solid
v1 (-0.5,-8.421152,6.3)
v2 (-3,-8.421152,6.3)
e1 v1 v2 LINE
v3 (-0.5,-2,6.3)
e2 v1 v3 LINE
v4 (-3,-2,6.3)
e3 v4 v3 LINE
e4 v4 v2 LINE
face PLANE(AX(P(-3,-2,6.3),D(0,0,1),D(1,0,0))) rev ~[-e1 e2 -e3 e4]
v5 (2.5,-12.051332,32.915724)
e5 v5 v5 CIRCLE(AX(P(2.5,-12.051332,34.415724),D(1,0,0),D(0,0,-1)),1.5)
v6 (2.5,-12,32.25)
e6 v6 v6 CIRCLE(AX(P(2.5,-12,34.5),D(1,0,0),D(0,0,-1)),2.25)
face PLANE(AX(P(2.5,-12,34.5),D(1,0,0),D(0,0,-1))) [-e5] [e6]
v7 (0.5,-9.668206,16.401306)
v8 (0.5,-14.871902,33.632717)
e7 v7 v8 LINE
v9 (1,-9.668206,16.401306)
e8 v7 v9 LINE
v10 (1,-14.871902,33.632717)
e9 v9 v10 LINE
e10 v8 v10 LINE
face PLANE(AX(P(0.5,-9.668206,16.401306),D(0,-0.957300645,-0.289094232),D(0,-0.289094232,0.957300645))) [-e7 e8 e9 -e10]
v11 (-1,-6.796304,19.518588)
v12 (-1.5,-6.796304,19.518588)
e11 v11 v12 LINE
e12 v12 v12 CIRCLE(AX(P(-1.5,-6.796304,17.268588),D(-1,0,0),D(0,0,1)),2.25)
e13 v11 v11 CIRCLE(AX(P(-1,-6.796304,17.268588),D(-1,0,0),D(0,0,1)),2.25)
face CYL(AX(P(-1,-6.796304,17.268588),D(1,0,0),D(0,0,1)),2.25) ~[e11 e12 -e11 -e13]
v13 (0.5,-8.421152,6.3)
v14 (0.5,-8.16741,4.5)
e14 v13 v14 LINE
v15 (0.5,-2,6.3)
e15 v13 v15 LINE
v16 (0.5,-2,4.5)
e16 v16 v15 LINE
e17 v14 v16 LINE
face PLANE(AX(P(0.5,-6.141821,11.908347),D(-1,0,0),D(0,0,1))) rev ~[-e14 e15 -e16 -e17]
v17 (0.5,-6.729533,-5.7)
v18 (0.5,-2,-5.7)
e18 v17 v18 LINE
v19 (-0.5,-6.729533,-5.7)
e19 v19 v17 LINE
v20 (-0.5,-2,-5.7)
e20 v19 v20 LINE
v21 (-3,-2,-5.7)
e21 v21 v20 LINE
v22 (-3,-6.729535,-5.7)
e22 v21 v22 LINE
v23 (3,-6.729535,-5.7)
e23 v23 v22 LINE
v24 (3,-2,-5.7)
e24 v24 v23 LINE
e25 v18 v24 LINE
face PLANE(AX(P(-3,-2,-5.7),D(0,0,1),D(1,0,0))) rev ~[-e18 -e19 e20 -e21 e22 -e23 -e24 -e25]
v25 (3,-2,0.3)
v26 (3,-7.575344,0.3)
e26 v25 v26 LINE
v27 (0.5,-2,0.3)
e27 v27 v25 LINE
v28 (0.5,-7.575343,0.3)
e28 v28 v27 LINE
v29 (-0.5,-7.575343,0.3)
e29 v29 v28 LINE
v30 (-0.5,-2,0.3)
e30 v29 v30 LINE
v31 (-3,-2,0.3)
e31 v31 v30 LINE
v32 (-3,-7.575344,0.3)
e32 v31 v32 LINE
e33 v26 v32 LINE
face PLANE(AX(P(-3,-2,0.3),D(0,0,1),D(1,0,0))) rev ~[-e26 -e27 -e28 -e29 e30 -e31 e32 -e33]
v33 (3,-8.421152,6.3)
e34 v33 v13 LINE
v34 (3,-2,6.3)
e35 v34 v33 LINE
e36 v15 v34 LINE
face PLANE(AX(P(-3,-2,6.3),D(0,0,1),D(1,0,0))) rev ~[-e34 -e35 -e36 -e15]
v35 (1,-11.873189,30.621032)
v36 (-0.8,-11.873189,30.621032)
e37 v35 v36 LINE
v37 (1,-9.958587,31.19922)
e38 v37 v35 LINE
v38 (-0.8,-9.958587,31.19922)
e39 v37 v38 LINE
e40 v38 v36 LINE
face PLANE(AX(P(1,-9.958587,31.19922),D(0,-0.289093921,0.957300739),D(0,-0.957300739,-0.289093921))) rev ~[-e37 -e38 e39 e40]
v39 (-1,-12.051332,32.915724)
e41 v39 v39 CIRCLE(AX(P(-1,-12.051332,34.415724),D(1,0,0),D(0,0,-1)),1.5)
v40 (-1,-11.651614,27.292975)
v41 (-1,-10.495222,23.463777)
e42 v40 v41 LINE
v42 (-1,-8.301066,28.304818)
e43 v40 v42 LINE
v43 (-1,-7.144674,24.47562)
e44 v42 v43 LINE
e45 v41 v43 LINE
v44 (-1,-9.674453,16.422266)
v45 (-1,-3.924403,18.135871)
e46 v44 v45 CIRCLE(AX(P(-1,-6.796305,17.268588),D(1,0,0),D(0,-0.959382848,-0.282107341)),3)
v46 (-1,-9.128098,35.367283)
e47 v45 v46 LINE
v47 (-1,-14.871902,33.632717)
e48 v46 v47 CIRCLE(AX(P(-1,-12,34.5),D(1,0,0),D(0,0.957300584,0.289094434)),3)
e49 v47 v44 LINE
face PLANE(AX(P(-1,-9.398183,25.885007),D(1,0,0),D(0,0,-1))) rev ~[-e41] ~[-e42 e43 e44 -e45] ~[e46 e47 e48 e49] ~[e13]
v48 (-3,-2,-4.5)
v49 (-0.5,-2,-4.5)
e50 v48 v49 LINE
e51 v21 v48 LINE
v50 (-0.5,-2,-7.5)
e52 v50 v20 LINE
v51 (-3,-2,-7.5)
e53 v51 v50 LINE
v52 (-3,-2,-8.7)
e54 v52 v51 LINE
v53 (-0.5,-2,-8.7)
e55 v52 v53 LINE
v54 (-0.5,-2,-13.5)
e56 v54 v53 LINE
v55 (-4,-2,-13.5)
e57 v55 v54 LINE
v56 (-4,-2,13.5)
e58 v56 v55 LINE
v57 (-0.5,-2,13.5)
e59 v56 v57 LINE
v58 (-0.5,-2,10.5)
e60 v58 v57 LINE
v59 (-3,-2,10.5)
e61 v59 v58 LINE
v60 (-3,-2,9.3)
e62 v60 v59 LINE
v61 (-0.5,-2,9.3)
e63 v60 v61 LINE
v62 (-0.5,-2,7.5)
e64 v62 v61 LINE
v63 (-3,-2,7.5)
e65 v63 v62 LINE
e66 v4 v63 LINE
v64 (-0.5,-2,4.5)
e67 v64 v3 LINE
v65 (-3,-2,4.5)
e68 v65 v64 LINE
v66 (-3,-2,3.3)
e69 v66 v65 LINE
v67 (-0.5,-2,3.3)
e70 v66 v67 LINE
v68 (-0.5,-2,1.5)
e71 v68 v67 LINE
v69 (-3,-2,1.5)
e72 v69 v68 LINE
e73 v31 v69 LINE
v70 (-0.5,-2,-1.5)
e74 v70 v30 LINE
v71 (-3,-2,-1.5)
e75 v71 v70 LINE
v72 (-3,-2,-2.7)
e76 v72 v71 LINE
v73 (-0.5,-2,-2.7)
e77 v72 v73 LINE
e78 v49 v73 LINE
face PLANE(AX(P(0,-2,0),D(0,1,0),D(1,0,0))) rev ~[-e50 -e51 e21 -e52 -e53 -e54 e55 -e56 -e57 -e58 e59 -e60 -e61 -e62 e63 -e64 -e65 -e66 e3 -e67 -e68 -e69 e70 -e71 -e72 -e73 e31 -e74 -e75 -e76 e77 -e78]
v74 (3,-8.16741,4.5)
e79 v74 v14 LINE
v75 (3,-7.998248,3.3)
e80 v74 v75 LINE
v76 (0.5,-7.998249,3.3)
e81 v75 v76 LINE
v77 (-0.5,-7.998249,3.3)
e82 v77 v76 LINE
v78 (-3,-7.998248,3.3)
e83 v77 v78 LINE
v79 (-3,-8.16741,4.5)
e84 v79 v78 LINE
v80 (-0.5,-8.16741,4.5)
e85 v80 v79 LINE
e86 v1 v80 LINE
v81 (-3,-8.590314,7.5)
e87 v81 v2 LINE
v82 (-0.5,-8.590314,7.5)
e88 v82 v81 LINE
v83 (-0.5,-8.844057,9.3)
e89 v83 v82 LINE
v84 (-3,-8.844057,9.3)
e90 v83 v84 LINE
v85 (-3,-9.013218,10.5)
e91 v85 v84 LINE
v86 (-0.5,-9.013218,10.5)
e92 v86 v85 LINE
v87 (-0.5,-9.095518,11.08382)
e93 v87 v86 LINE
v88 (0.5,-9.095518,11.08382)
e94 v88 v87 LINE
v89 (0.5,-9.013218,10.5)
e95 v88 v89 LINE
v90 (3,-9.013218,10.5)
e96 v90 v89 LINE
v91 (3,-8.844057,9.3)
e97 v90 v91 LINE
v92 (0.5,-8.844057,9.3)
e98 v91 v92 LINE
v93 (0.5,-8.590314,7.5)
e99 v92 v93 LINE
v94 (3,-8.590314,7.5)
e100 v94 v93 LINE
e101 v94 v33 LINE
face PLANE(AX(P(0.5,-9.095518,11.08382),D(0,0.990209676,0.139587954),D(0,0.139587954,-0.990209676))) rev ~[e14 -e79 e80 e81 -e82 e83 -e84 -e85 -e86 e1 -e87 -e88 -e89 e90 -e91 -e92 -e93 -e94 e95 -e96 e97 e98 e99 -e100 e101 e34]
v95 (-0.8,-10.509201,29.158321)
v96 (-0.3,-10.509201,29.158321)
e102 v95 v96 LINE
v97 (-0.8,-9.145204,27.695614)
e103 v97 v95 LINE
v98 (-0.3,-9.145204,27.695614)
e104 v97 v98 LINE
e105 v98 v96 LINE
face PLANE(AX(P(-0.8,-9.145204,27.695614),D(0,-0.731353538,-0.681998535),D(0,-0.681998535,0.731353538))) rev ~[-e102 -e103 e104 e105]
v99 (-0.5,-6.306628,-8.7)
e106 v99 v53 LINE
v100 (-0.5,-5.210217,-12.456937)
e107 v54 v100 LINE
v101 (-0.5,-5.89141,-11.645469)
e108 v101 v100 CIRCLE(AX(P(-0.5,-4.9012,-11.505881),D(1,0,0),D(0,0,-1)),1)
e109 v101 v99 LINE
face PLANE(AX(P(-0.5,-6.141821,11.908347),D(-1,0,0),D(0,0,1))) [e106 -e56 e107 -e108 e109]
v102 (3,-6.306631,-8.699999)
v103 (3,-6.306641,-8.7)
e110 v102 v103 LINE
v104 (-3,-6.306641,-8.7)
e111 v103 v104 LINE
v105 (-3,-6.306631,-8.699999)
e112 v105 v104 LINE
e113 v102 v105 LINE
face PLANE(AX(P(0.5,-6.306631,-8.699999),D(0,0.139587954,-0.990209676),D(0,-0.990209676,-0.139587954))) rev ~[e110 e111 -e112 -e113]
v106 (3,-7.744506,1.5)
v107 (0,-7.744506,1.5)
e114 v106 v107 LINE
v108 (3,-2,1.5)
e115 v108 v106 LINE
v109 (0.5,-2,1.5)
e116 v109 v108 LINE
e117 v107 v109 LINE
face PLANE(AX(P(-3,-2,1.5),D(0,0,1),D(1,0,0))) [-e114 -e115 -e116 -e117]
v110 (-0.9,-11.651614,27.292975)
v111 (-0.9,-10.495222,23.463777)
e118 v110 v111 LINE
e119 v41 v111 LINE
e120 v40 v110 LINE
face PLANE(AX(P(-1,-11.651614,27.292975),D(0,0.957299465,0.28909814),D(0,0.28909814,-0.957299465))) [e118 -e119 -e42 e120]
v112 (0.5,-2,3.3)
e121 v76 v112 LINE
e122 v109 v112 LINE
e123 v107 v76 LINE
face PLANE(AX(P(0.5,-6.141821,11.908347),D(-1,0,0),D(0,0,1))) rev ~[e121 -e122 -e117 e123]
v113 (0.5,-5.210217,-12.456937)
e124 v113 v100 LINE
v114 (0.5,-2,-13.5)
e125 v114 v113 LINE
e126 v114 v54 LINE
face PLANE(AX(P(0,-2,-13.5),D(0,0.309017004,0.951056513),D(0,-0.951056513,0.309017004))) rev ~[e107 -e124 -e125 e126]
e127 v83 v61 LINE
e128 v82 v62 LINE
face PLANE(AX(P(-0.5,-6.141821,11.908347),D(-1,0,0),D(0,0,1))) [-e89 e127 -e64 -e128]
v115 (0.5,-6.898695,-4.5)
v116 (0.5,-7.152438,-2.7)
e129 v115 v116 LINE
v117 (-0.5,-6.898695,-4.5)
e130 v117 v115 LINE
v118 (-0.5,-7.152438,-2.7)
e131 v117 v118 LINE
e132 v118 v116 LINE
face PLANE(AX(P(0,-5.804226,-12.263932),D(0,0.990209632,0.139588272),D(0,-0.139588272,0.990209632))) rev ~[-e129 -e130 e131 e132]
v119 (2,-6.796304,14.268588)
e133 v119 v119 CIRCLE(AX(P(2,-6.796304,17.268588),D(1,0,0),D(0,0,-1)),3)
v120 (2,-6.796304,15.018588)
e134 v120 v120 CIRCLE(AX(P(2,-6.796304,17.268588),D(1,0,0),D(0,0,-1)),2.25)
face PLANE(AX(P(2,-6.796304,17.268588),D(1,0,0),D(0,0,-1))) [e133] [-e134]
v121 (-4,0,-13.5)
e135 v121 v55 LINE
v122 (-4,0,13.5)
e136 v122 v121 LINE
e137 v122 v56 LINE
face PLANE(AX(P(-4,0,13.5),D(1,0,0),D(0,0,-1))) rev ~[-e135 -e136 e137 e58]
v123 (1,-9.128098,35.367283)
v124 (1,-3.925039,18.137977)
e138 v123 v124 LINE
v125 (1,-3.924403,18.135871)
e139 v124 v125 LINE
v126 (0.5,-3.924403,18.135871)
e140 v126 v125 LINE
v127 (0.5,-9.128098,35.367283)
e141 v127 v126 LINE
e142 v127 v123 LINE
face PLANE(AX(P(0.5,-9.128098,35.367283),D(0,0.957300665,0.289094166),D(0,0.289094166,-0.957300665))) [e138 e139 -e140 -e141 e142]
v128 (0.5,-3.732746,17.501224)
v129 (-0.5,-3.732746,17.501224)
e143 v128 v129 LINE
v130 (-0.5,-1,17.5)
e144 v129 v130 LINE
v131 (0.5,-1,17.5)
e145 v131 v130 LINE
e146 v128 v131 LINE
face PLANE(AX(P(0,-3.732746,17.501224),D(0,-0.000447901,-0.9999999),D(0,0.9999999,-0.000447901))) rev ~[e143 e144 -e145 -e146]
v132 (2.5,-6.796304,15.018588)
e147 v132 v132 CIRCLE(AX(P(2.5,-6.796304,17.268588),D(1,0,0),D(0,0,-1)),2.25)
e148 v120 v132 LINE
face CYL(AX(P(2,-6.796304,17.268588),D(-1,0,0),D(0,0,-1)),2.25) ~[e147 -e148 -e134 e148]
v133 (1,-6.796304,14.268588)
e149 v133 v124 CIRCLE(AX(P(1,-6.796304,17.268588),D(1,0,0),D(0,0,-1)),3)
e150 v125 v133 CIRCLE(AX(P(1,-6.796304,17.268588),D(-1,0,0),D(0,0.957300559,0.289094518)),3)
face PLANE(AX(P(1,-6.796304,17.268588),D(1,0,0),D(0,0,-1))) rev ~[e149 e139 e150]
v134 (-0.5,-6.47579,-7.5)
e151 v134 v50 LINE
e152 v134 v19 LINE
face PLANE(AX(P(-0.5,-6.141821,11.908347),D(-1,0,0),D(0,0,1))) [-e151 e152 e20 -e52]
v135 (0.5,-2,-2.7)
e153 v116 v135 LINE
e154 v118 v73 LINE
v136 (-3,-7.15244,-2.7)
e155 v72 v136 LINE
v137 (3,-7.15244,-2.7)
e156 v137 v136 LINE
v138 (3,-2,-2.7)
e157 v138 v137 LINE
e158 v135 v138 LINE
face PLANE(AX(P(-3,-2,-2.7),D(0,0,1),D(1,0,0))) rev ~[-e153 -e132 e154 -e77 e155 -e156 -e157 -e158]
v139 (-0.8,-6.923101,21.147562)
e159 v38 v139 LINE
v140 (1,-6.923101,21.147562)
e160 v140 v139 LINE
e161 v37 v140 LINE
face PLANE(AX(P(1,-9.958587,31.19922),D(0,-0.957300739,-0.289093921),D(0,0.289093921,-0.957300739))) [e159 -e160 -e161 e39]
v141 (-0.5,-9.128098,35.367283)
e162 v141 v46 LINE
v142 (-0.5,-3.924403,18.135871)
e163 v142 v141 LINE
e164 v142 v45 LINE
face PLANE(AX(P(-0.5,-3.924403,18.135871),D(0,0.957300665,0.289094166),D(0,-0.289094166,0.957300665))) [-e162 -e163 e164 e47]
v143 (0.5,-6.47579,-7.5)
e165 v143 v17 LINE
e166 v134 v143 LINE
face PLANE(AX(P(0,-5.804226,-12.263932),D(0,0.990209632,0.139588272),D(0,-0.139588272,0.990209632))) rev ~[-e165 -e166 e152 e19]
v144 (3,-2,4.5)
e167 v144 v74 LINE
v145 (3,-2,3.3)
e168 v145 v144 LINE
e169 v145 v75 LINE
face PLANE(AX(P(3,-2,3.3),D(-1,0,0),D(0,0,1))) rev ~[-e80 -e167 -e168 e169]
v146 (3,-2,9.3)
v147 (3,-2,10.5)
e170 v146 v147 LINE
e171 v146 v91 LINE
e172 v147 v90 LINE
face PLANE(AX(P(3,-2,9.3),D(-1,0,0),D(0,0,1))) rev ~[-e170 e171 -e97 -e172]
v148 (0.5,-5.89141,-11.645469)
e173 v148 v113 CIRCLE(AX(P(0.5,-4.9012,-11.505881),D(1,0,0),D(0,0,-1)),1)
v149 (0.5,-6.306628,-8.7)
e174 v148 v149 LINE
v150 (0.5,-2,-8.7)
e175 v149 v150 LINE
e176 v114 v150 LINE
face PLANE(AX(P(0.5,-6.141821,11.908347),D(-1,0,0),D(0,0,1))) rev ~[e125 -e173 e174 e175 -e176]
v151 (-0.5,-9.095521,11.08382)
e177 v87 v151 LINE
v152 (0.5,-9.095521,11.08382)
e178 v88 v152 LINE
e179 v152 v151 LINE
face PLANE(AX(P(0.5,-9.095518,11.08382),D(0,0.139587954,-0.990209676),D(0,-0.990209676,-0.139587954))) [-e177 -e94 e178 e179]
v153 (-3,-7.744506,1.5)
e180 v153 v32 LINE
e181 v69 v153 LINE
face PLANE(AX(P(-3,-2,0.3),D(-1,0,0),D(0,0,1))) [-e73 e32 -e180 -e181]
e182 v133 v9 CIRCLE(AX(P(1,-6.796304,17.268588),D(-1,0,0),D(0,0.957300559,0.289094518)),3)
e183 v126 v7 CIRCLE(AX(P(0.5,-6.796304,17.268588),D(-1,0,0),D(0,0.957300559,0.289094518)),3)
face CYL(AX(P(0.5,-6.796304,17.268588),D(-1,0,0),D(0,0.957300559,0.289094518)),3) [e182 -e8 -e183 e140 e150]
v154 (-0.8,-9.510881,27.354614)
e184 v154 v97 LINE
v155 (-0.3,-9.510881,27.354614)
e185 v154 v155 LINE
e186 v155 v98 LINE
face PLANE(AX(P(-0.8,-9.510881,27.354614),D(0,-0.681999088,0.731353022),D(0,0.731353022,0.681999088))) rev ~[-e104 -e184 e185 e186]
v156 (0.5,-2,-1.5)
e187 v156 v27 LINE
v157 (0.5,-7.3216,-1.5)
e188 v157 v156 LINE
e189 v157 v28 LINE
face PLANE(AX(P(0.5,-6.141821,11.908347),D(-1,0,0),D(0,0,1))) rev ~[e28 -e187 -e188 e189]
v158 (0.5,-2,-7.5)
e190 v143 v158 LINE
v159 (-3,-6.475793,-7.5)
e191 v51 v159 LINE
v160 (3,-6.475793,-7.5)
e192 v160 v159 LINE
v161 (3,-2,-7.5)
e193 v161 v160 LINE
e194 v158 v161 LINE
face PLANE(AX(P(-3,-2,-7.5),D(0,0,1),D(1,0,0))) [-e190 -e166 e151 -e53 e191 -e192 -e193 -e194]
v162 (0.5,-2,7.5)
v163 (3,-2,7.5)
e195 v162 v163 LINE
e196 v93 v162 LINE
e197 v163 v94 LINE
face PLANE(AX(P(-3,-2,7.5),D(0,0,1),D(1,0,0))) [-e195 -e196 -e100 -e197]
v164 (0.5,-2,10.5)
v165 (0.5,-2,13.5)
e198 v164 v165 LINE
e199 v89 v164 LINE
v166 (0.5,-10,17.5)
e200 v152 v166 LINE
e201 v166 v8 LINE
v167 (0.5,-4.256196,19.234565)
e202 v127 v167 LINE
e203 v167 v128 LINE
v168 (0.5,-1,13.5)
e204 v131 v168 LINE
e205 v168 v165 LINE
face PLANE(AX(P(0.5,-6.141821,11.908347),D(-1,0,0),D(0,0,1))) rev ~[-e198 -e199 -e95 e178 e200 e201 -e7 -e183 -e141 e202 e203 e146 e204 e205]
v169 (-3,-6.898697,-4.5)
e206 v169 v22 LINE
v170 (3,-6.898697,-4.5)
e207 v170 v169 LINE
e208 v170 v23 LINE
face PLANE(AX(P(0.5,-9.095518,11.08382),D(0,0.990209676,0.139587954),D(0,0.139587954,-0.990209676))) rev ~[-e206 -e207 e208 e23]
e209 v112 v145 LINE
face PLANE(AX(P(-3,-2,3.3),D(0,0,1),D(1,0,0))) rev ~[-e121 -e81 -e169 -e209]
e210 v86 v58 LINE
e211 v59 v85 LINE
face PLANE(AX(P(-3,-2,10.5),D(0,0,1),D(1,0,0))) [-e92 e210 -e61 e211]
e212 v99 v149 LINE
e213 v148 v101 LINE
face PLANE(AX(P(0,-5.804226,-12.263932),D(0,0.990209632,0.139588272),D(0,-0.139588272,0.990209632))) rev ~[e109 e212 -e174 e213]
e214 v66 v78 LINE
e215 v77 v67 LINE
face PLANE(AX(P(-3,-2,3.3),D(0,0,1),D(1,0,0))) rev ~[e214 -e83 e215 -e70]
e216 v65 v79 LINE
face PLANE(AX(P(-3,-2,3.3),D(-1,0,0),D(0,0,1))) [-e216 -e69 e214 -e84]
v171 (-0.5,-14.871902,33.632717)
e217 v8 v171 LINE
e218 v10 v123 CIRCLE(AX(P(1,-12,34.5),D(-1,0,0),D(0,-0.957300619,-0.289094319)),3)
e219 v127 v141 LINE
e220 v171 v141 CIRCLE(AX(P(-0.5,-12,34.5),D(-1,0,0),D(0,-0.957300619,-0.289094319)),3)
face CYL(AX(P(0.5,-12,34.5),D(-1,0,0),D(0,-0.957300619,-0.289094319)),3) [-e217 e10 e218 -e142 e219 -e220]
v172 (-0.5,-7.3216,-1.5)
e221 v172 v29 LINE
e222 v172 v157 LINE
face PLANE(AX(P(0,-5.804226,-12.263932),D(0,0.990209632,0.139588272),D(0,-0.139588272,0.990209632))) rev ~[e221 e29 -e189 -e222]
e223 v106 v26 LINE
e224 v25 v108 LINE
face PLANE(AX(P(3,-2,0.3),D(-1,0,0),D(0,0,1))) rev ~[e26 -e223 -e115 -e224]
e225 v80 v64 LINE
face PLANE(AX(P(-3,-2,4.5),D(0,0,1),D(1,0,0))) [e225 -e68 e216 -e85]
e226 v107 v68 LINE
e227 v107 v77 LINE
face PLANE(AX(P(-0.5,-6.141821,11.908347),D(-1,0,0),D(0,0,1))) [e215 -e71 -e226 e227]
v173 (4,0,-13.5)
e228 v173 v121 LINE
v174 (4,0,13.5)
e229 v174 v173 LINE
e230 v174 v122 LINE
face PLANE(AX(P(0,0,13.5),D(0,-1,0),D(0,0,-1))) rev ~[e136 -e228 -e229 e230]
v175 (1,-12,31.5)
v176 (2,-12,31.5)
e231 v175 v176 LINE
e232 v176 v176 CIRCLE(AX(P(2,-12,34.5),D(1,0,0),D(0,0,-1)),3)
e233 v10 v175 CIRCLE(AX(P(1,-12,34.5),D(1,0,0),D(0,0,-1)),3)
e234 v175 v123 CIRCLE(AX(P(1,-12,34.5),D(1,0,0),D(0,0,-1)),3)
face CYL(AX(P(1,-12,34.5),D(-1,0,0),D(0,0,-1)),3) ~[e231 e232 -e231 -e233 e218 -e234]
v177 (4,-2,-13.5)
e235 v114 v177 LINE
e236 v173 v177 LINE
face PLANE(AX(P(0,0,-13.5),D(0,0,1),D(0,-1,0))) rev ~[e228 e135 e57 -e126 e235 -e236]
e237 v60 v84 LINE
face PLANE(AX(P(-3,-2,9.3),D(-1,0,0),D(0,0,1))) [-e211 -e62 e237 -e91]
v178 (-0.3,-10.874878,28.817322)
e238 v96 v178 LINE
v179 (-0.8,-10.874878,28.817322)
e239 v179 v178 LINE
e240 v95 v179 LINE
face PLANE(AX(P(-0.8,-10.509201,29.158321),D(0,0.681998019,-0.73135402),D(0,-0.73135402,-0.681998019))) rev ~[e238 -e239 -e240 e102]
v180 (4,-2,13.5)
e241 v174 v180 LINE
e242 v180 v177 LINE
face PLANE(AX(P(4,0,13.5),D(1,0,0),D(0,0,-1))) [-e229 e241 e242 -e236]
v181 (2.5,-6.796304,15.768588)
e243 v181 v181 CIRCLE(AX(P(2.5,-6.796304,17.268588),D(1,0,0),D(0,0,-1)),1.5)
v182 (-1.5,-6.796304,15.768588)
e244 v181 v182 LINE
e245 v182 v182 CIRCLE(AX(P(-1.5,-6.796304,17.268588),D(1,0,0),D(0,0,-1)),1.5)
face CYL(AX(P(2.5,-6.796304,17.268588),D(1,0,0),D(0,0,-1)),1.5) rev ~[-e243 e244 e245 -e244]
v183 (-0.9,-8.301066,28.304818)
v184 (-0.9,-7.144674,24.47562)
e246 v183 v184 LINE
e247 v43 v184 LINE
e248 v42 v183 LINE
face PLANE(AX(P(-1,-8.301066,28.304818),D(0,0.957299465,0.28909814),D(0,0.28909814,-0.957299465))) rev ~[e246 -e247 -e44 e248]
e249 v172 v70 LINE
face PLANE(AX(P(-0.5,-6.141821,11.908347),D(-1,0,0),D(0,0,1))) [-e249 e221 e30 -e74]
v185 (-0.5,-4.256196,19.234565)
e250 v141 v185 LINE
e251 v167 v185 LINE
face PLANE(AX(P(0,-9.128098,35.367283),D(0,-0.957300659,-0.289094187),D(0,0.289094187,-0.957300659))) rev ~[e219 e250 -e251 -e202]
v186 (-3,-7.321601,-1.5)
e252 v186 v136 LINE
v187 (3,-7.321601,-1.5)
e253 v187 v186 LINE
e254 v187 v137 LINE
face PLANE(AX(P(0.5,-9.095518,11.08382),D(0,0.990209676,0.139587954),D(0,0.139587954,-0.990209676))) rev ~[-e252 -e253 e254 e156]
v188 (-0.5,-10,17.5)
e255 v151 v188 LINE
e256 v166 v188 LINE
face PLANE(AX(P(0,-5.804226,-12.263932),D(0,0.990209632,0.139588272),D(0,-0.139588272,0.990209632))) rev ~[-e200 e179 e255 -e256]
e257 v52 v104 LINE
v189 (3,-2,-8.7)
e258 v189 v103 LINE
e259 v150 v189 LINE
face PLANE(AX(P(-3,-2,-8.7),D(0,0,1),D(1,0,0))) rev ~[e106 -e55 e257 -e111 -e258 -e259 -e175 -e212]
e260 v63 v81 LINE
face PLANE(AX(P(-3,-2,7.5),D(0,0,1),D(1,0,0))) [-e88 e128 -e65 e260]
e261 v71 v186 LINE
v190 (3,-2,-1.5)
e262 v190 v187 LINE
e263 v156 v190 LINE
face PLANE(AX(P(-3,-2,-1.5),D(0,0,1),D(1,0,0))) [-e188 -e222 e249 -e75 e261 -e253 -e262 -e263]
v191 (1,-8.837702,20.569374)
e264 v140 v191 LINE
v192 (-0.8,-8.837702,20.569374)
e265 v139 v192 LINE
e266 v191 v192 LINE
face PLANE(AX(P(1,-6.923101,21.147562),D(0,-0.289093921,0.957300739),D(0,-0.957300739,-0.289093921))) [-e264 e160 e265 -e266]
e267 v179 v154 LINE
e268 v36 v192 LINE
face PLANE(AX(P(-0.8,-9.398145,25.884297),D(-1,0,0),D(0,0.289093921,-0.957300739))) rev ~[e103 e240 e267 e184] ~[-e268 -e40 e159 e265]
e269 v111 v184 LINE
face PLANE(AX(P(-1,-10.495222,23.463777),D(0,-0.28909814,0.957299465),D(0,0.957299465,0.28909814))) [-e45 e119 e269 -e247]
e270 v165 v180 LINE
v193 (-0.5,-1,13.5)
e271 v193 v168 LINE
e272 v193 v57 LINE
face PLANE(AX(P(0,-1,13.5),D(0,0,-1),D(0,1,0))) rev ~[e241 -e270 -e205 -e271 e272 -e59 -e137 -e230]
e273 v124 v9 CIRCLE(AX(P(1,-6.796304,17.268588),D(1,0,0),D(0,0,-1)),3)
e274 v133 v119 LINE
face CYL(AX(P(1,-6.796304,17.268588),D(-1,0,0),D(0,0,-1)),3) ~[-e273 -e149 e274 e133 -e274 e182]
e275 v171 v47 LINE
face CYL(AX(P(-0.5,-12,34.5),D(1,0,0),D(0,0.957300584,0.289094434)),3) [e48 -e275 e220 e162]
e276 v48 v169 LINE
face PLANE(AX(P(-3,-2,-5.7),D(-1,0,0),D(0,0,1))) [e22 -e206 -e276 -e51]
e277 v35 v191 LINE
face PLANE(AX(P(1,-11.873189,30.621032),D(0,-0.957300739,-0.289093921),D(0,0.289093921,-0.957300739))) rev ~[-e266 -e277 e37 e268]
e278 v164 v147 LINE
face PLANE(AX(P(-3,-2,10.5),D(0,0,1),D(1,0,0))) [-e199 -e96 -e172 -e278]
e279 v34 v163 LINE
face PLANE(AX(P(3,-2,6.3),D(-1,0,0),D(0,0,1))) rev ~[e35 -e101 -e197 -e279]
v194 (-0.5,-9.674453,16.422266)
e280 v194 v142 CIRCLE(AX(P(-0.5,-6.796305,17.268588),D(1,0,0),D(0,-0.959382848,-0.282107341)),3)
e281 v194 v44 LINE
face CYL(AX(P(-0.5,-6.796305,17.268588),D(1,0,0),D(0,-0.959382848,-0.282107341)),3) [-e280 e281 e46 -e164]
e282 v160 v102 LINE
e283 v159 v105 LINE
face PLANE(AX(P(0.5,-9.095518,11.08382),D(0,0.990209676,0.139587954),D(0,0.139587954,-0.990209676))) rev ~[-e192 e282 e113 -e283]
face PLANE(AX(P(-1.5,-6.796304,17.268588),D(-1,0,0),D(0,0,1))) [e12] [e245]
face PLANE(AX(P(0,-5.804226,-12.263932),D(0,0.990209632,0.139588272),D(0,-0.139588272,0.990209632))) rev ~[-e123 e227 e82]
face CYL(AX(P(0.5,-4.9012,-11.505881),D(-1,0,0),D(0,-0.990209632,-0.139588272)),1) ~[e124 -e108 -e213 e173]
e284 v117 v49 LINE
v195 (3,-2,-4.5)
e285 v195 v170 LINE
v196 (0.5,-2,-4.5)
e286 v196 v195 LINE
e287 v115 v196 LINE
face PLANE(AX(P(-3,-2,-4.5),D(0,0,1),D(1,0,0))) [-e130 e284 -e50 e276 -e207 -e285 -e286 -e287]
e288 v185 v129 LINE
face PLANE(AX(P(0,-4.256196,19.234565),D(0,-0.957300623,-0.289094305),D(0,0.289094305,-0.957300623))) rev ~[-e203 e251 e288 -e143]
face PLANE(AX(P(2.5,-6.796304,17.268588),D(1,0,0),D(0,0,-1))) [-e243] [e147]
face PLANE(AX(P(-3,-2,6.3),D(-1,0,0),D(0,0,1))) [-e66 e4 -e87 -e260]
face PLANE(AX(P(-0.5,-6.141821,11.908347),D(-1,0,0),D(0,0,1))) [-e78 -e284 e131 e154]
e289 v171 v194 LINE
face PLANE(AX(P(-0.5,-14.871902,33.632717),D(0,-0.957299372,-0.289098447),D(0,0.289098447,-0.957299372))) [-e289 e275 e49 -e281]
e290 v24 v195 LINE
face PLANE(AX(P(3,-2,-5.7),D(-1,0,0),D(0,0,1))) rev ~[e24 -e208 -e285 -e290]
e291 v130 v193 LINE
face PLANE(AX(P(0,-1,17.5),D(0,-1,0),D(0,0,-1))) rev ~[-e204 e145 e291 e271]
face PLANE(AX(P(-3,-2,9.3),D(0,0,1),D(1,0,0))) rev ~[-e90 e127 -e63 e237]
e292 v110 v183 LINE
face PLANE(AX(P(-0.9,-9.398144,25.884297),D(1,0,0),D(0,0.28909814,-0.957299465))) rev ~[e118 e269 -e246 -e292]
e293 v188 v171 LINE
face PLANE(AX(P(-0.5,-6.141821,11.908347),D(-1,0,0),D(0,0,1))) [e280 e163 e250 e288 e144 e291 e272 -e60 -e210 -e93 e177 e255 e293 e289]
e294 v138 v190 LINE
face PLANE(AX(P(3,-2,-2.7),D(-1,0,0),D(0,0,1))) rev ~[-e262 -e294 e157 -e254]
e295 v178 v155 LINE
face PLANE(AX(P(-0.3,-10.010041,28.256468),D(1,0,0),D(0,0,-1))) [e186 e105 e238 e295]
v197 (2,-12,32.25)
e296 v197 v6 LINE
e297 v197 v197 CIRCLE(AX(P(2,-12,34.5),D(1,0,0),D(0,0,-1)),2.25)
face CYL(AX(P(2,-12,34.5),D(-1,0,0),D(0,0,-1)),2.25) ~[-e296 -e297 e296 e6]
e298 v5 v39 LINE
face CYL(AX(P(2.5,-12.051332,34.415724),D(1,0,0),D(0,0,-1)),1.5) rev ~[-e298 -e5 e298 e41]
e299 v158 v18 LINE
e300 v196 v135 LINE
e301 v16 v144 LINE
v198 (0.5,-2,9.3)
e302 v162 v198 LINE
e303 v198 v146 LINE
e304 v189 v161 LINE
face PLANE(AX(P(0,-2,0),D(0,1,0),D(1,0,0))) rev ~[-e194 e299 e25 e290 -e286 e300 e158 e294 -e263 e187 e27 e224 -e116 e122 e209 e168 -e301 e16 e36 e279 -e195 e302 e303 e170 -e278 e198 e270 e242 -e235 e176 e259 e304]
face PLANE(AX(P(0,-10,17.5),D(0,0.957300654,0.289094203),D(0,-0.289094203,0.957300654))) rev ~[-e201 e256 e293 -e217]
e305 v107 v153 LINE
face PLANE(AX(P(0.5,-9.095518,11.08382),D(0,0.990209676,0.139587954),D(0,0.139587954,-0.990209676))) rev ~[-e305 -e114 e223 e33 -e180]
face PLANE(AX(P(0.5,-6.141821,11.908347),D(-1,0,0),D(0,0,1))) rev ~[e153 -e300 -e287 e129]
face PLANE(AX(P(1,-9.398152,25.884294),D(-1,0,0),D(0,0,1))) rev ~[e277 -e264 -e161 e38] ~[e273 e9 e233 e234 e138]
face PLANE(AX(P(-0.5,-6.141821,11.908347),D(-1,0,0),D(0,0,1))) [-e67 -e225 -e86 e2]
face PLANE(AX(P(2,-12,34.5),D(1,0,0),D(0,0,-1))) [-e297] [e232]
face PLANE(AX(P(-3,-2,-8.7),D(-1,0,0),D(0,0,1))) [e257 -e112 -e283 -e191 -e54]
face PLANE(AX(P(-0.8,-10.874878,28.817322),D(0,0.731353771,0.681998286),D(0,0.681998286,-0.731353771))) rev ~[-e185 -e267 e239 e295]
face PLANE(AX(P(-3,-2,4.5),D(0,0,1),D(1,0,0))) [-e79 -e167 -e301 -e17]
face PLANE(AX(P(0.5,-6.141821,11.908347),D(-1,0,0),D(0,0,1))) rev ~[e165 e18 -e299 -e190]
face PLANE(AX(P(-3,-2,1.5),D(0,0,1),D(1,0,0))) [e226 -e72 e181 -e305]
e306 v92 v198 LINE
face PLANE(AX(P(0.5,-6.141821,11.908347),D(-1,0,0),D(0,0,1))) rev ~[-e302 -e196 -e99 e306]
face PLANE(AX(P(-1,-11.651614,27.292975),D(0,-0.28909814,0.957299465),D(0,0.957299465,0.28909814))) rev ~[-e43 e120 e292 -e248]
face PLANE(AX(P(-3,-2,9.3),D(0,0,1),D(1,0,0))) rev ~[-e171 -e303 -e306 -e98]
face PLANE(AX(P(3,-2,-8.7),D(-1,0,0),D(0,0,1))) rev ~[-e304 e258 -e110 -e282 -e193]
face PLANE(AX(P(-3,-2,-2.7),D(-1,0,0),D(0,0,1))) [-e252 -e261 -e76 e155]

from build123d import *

# Parameters (mm, degrees)
SKETCH1_W           = 8
SKETCH1_H           = 27
BOSS_EXTRUDE1_DEPTH = 2
BOSS_EXTRUDE2_DEPTH = 0.5
BOSS_EXTRUDE3_DEPTH = 0.5
BOSS_EXTRUDE4_DEPTH = 0.5
SKETCH7_R           = 2.25
BOSS_EXTRUDE5_DEPTH = 0.5
SKETCH8_R           = 3
BOSS_EXTRUDE6_DEPTH = 1
SKETCH9_R           = 2.25
BOSS_EXTRUDE7_DEPTH = 0.5
SKETCH14_W          = 10.5
SKETCH14_H          = 2
CUT_EXTRUDE2_DEPTH  = 1.8
FILLET1_R           = 1
SKETCH15_W          = 4
SKETCH15_H          = 3.5
CUT_EXTRUDE5_DEPTH  = 0.1
SKETCH19_W          = 6
SKETCH19_H          = 1.2
BOSS_EXTRUDE8_DEPTH = 7.1
LPATTERN1_COUNT     = 7
LPATTERN1_PITCH     = 3
SKETCH20_W          = 19.979424
SKETCH20_H          = 3.421259
CUT_EXTRUDE6_DEPTH  = 3.55
SKETCH10_R          = 1.5
CUT_EXTRUDE7_DEPTH  = 7.5
BOSS_EXTRUDE9_DEPTH = 0.5


with BuildPart() as part:
    # Sketch1 → Boss-Extrude1 (new body)
    with BuildSketch(Plane(origin=(0, 0, 0), x_dir=(1, 0, 0), z_dir=(0, 1, 0))):
        Rectangle(SKETCH1_W, SKETCH1_H)
    extrude(amount=-BOSS_EXTRUDE1_DEPTH)

    # Sketch4 → Boss-Extrude2 (add, symmetric)
    with BuildSketch(Plane(origin=(0, 0, 0), x_dir=(0, 0, -1), z_dir=(1, 0, 0))):
        with BuildLine():
            Line((13.5, 0), (13.5, -2))
            Line((13.5, -2), (12.263932, -5.804226))
            Line((12.263932, -5.804226), (-17.5, -10))
            Line((-17.5, -10), (-33.632717, -14.871902))
            ThreePointArc((-33.632717, -14.871902), (-37.371902, -12.867283), (-35.367283, -9.128098))
            Line((-35.367283, -9.128098), (-19.234565, -4.256196))
            Line((-19.234565, -4.256196), (-17.501224, -3.732746))
            Line((-17.501224, -3.732746), (-17.5, -1))
            Line((-17.5, -1), (-13.5, -1))
            Line((-13.5, -1), (-13.5, 0))
            Line((-13.5, 0), (13.5, 0))
        make_face()
    extrude(amount=BOSS_EXTRUDE2_DEPTH, both=True)

    # Sketch5 → Boss-Extrude3 (add)
    with BuildSketch(Plane.ZY.offset(0.5)):
        with BuildLine():
            Line((33.632717, -14.871902), (16.422266, -9.674453))
            ThreePointArc((16.422266, -9.674453), (14.393544, -5.939496), (18.135871, -3.924403))
            Line((18.135871, -3.924403), (35.367283, -9.128098))
            ThreePointArc((35.367283, -9.128098), (37.371898, -12.867295), (33.632717, -14.871902))
        make_face()
    extrude(amount=BOSS_EXTRUDE3_DEPTH)

    # Sketch6 → Boss-Extrude4 (add)
    with BuildSketch(Plane(origin=(0.5, 0, 0), x_dir=(0, 0, -1), z_dir=(1, 0, 0))):
        with BuildLine():
            Line((-35.367283, -9.128098), (-18.135871, -3.924403))
            ThreePointArc((-18.135871, -3.924403), (-14.396686, -5.929022), (-16.401306, -9.668206))
            Line((-16.401306, -9.668206), (-33.632717, -14.871902))
            ThreePointArc((-33.632717, -14.871902), (-37.371902, -12.867283), (-35.367283, -9.128098))
        make_face()
    extrude(amount=BOSS_EXTRUDE4_DEPTH)

    # Sketch7 → Boss-Extrude5 (add)
    with BuildSketch(Plane.ZY.offset(1)):
        with Locations((17.268588, -6.796304)):
            Circle(SKETCH7_R)
    extrude(amount=BOSS_EXTRUDE5_DEPTH)

    # Sketch8 → Boss-Extrude6 (add)
    with BuildSketch(Plane(origin=(1, 0, 0), x_dir=(0, 0, -1), z_dir=(1, 0, 0))):
        with Locations((-34.5, -12)):
            Circle(SKETCH8_R)
        with Locations((-17.268588, -6.796304)):
            Circle(SKETCH8_R)
    extrude(amount=BOSS_EXTRUDE6_DEPTH)

    # Sketch9 → Boss-Extrude7 (add)
    with BuildSketch(Plane(origin=(2, 0, 0), x_dir=(0, 0, -1), z_dir=(1, 0, 0))):
        with Locations((-34.5, -12)):
            Circle(SKETCH9_R)
        with Locations((-17.268588, -6.796304)):
            Circle(SKETCH9_R)
    extrude(amount=BOSS_EXTRUDE7_DEPTH)

    # Sketch14 → Cut-Extrude2 (cut)
    with BuildSketch(Plane(origin=(1, 0, 0), x_dir=(0, 0.289094, -0.957301), z_dir=(-1, 0, 0))):
        with Locations((-27.496003, 1.513858)):
            Rectangle(SKETCH14_W, SKETCH14_H)
    extrude(amount=CUT_EXTRUDE2_DEPTH, mode=Mode.SUBTRACT)

    # Fillet1
    fillet1_edges = [part.edges().sort_by_distance(p)[0] for p in [
        (0, -5.804226, -12.263932),
    ]]
    fillet(fillet1_edges, radius=FILLET1_R)

    # Sketch15 → Cut-Extrude5 (cut)
    with BuildSketch(Plane(origin=(-1, 0, 0), x_dir=(0, 0.289098, -0.957299), z_dir=(1, 0, 0))):
        with Locations((-27.49601, -1.513736)):
            Rectangle(SKETCH15_W, SKETCH15_H)
    extrude(amount=CUT_EXTRUDE5_DEPTH, mode=Mode.SUBTRACT)

    # Sketch19 → Boss-Extrude8 (add)
    with BuildSketch(Plane.XZ.offset(2)):
        with Locations((0, 9.9)):
            Rectangle(SKETCH19_W, SKETCH19_H)
    boss_extrude8 = extrude(amount=BOSS_EXTRUDE8_DEPTH)

    # LPattern1: Boss-Extrude8 ×7
    with Locations(*[(0, 0, -i * LPATTERN1_PITCH) for i in range(1, LPATTERN1_COUNT)]):
        add(boss_extrude8)

    # Sketch20 → Cut-Extrude6 (cut, symmetric)
    with BuildSketch(Plane(origin=(0.5, 0, 0), x_dir=(0, 0.139588, -0.99021), z_dir=(-1, 0, 0))):
        with Locations((-2.255219, 9.169932)):
            Rectangle(SKETCH20_W, SKETCH20_H)
    extrude(amount=CUT_EXTRUDE6_DEPTH, both=True, mode=Mode.SUBTRACT)

    # Sketch10 → Cut-Extrude7 (cut, through all)
    with BuildSketch(Plane(origin=(2.5, 0, 0), x_dir=(0, 0, -1), z_dir=(1, 0, 0))):
        with Locations((-17.268588, -6.796304)):
            Circle(SKETCH10_R)
        with Locations((-34.415724, -12.051332)):
            Circle(SKETCH10_R)
    extrude(amount=-CUT_EXTRUDE7_DEPTH, mode=Mode.SUBTRACT)

    # Sketch21 → Boss-Extrude9 (add)
    with BuildSketch(Plane(origin=(-0.8, 0, 0), x_dir=(0, 0, -1), z_dir=(1, 0, 0))):
        Polygon((-27.695614, -9.145204), (-29.158321, -10.509201), (-28.817322, -10.874878), (-27.354614, -9.510881), align=None)
    extrude(amount=BOSS_EXTRUDE9_DEPTH)


solid = part.part
